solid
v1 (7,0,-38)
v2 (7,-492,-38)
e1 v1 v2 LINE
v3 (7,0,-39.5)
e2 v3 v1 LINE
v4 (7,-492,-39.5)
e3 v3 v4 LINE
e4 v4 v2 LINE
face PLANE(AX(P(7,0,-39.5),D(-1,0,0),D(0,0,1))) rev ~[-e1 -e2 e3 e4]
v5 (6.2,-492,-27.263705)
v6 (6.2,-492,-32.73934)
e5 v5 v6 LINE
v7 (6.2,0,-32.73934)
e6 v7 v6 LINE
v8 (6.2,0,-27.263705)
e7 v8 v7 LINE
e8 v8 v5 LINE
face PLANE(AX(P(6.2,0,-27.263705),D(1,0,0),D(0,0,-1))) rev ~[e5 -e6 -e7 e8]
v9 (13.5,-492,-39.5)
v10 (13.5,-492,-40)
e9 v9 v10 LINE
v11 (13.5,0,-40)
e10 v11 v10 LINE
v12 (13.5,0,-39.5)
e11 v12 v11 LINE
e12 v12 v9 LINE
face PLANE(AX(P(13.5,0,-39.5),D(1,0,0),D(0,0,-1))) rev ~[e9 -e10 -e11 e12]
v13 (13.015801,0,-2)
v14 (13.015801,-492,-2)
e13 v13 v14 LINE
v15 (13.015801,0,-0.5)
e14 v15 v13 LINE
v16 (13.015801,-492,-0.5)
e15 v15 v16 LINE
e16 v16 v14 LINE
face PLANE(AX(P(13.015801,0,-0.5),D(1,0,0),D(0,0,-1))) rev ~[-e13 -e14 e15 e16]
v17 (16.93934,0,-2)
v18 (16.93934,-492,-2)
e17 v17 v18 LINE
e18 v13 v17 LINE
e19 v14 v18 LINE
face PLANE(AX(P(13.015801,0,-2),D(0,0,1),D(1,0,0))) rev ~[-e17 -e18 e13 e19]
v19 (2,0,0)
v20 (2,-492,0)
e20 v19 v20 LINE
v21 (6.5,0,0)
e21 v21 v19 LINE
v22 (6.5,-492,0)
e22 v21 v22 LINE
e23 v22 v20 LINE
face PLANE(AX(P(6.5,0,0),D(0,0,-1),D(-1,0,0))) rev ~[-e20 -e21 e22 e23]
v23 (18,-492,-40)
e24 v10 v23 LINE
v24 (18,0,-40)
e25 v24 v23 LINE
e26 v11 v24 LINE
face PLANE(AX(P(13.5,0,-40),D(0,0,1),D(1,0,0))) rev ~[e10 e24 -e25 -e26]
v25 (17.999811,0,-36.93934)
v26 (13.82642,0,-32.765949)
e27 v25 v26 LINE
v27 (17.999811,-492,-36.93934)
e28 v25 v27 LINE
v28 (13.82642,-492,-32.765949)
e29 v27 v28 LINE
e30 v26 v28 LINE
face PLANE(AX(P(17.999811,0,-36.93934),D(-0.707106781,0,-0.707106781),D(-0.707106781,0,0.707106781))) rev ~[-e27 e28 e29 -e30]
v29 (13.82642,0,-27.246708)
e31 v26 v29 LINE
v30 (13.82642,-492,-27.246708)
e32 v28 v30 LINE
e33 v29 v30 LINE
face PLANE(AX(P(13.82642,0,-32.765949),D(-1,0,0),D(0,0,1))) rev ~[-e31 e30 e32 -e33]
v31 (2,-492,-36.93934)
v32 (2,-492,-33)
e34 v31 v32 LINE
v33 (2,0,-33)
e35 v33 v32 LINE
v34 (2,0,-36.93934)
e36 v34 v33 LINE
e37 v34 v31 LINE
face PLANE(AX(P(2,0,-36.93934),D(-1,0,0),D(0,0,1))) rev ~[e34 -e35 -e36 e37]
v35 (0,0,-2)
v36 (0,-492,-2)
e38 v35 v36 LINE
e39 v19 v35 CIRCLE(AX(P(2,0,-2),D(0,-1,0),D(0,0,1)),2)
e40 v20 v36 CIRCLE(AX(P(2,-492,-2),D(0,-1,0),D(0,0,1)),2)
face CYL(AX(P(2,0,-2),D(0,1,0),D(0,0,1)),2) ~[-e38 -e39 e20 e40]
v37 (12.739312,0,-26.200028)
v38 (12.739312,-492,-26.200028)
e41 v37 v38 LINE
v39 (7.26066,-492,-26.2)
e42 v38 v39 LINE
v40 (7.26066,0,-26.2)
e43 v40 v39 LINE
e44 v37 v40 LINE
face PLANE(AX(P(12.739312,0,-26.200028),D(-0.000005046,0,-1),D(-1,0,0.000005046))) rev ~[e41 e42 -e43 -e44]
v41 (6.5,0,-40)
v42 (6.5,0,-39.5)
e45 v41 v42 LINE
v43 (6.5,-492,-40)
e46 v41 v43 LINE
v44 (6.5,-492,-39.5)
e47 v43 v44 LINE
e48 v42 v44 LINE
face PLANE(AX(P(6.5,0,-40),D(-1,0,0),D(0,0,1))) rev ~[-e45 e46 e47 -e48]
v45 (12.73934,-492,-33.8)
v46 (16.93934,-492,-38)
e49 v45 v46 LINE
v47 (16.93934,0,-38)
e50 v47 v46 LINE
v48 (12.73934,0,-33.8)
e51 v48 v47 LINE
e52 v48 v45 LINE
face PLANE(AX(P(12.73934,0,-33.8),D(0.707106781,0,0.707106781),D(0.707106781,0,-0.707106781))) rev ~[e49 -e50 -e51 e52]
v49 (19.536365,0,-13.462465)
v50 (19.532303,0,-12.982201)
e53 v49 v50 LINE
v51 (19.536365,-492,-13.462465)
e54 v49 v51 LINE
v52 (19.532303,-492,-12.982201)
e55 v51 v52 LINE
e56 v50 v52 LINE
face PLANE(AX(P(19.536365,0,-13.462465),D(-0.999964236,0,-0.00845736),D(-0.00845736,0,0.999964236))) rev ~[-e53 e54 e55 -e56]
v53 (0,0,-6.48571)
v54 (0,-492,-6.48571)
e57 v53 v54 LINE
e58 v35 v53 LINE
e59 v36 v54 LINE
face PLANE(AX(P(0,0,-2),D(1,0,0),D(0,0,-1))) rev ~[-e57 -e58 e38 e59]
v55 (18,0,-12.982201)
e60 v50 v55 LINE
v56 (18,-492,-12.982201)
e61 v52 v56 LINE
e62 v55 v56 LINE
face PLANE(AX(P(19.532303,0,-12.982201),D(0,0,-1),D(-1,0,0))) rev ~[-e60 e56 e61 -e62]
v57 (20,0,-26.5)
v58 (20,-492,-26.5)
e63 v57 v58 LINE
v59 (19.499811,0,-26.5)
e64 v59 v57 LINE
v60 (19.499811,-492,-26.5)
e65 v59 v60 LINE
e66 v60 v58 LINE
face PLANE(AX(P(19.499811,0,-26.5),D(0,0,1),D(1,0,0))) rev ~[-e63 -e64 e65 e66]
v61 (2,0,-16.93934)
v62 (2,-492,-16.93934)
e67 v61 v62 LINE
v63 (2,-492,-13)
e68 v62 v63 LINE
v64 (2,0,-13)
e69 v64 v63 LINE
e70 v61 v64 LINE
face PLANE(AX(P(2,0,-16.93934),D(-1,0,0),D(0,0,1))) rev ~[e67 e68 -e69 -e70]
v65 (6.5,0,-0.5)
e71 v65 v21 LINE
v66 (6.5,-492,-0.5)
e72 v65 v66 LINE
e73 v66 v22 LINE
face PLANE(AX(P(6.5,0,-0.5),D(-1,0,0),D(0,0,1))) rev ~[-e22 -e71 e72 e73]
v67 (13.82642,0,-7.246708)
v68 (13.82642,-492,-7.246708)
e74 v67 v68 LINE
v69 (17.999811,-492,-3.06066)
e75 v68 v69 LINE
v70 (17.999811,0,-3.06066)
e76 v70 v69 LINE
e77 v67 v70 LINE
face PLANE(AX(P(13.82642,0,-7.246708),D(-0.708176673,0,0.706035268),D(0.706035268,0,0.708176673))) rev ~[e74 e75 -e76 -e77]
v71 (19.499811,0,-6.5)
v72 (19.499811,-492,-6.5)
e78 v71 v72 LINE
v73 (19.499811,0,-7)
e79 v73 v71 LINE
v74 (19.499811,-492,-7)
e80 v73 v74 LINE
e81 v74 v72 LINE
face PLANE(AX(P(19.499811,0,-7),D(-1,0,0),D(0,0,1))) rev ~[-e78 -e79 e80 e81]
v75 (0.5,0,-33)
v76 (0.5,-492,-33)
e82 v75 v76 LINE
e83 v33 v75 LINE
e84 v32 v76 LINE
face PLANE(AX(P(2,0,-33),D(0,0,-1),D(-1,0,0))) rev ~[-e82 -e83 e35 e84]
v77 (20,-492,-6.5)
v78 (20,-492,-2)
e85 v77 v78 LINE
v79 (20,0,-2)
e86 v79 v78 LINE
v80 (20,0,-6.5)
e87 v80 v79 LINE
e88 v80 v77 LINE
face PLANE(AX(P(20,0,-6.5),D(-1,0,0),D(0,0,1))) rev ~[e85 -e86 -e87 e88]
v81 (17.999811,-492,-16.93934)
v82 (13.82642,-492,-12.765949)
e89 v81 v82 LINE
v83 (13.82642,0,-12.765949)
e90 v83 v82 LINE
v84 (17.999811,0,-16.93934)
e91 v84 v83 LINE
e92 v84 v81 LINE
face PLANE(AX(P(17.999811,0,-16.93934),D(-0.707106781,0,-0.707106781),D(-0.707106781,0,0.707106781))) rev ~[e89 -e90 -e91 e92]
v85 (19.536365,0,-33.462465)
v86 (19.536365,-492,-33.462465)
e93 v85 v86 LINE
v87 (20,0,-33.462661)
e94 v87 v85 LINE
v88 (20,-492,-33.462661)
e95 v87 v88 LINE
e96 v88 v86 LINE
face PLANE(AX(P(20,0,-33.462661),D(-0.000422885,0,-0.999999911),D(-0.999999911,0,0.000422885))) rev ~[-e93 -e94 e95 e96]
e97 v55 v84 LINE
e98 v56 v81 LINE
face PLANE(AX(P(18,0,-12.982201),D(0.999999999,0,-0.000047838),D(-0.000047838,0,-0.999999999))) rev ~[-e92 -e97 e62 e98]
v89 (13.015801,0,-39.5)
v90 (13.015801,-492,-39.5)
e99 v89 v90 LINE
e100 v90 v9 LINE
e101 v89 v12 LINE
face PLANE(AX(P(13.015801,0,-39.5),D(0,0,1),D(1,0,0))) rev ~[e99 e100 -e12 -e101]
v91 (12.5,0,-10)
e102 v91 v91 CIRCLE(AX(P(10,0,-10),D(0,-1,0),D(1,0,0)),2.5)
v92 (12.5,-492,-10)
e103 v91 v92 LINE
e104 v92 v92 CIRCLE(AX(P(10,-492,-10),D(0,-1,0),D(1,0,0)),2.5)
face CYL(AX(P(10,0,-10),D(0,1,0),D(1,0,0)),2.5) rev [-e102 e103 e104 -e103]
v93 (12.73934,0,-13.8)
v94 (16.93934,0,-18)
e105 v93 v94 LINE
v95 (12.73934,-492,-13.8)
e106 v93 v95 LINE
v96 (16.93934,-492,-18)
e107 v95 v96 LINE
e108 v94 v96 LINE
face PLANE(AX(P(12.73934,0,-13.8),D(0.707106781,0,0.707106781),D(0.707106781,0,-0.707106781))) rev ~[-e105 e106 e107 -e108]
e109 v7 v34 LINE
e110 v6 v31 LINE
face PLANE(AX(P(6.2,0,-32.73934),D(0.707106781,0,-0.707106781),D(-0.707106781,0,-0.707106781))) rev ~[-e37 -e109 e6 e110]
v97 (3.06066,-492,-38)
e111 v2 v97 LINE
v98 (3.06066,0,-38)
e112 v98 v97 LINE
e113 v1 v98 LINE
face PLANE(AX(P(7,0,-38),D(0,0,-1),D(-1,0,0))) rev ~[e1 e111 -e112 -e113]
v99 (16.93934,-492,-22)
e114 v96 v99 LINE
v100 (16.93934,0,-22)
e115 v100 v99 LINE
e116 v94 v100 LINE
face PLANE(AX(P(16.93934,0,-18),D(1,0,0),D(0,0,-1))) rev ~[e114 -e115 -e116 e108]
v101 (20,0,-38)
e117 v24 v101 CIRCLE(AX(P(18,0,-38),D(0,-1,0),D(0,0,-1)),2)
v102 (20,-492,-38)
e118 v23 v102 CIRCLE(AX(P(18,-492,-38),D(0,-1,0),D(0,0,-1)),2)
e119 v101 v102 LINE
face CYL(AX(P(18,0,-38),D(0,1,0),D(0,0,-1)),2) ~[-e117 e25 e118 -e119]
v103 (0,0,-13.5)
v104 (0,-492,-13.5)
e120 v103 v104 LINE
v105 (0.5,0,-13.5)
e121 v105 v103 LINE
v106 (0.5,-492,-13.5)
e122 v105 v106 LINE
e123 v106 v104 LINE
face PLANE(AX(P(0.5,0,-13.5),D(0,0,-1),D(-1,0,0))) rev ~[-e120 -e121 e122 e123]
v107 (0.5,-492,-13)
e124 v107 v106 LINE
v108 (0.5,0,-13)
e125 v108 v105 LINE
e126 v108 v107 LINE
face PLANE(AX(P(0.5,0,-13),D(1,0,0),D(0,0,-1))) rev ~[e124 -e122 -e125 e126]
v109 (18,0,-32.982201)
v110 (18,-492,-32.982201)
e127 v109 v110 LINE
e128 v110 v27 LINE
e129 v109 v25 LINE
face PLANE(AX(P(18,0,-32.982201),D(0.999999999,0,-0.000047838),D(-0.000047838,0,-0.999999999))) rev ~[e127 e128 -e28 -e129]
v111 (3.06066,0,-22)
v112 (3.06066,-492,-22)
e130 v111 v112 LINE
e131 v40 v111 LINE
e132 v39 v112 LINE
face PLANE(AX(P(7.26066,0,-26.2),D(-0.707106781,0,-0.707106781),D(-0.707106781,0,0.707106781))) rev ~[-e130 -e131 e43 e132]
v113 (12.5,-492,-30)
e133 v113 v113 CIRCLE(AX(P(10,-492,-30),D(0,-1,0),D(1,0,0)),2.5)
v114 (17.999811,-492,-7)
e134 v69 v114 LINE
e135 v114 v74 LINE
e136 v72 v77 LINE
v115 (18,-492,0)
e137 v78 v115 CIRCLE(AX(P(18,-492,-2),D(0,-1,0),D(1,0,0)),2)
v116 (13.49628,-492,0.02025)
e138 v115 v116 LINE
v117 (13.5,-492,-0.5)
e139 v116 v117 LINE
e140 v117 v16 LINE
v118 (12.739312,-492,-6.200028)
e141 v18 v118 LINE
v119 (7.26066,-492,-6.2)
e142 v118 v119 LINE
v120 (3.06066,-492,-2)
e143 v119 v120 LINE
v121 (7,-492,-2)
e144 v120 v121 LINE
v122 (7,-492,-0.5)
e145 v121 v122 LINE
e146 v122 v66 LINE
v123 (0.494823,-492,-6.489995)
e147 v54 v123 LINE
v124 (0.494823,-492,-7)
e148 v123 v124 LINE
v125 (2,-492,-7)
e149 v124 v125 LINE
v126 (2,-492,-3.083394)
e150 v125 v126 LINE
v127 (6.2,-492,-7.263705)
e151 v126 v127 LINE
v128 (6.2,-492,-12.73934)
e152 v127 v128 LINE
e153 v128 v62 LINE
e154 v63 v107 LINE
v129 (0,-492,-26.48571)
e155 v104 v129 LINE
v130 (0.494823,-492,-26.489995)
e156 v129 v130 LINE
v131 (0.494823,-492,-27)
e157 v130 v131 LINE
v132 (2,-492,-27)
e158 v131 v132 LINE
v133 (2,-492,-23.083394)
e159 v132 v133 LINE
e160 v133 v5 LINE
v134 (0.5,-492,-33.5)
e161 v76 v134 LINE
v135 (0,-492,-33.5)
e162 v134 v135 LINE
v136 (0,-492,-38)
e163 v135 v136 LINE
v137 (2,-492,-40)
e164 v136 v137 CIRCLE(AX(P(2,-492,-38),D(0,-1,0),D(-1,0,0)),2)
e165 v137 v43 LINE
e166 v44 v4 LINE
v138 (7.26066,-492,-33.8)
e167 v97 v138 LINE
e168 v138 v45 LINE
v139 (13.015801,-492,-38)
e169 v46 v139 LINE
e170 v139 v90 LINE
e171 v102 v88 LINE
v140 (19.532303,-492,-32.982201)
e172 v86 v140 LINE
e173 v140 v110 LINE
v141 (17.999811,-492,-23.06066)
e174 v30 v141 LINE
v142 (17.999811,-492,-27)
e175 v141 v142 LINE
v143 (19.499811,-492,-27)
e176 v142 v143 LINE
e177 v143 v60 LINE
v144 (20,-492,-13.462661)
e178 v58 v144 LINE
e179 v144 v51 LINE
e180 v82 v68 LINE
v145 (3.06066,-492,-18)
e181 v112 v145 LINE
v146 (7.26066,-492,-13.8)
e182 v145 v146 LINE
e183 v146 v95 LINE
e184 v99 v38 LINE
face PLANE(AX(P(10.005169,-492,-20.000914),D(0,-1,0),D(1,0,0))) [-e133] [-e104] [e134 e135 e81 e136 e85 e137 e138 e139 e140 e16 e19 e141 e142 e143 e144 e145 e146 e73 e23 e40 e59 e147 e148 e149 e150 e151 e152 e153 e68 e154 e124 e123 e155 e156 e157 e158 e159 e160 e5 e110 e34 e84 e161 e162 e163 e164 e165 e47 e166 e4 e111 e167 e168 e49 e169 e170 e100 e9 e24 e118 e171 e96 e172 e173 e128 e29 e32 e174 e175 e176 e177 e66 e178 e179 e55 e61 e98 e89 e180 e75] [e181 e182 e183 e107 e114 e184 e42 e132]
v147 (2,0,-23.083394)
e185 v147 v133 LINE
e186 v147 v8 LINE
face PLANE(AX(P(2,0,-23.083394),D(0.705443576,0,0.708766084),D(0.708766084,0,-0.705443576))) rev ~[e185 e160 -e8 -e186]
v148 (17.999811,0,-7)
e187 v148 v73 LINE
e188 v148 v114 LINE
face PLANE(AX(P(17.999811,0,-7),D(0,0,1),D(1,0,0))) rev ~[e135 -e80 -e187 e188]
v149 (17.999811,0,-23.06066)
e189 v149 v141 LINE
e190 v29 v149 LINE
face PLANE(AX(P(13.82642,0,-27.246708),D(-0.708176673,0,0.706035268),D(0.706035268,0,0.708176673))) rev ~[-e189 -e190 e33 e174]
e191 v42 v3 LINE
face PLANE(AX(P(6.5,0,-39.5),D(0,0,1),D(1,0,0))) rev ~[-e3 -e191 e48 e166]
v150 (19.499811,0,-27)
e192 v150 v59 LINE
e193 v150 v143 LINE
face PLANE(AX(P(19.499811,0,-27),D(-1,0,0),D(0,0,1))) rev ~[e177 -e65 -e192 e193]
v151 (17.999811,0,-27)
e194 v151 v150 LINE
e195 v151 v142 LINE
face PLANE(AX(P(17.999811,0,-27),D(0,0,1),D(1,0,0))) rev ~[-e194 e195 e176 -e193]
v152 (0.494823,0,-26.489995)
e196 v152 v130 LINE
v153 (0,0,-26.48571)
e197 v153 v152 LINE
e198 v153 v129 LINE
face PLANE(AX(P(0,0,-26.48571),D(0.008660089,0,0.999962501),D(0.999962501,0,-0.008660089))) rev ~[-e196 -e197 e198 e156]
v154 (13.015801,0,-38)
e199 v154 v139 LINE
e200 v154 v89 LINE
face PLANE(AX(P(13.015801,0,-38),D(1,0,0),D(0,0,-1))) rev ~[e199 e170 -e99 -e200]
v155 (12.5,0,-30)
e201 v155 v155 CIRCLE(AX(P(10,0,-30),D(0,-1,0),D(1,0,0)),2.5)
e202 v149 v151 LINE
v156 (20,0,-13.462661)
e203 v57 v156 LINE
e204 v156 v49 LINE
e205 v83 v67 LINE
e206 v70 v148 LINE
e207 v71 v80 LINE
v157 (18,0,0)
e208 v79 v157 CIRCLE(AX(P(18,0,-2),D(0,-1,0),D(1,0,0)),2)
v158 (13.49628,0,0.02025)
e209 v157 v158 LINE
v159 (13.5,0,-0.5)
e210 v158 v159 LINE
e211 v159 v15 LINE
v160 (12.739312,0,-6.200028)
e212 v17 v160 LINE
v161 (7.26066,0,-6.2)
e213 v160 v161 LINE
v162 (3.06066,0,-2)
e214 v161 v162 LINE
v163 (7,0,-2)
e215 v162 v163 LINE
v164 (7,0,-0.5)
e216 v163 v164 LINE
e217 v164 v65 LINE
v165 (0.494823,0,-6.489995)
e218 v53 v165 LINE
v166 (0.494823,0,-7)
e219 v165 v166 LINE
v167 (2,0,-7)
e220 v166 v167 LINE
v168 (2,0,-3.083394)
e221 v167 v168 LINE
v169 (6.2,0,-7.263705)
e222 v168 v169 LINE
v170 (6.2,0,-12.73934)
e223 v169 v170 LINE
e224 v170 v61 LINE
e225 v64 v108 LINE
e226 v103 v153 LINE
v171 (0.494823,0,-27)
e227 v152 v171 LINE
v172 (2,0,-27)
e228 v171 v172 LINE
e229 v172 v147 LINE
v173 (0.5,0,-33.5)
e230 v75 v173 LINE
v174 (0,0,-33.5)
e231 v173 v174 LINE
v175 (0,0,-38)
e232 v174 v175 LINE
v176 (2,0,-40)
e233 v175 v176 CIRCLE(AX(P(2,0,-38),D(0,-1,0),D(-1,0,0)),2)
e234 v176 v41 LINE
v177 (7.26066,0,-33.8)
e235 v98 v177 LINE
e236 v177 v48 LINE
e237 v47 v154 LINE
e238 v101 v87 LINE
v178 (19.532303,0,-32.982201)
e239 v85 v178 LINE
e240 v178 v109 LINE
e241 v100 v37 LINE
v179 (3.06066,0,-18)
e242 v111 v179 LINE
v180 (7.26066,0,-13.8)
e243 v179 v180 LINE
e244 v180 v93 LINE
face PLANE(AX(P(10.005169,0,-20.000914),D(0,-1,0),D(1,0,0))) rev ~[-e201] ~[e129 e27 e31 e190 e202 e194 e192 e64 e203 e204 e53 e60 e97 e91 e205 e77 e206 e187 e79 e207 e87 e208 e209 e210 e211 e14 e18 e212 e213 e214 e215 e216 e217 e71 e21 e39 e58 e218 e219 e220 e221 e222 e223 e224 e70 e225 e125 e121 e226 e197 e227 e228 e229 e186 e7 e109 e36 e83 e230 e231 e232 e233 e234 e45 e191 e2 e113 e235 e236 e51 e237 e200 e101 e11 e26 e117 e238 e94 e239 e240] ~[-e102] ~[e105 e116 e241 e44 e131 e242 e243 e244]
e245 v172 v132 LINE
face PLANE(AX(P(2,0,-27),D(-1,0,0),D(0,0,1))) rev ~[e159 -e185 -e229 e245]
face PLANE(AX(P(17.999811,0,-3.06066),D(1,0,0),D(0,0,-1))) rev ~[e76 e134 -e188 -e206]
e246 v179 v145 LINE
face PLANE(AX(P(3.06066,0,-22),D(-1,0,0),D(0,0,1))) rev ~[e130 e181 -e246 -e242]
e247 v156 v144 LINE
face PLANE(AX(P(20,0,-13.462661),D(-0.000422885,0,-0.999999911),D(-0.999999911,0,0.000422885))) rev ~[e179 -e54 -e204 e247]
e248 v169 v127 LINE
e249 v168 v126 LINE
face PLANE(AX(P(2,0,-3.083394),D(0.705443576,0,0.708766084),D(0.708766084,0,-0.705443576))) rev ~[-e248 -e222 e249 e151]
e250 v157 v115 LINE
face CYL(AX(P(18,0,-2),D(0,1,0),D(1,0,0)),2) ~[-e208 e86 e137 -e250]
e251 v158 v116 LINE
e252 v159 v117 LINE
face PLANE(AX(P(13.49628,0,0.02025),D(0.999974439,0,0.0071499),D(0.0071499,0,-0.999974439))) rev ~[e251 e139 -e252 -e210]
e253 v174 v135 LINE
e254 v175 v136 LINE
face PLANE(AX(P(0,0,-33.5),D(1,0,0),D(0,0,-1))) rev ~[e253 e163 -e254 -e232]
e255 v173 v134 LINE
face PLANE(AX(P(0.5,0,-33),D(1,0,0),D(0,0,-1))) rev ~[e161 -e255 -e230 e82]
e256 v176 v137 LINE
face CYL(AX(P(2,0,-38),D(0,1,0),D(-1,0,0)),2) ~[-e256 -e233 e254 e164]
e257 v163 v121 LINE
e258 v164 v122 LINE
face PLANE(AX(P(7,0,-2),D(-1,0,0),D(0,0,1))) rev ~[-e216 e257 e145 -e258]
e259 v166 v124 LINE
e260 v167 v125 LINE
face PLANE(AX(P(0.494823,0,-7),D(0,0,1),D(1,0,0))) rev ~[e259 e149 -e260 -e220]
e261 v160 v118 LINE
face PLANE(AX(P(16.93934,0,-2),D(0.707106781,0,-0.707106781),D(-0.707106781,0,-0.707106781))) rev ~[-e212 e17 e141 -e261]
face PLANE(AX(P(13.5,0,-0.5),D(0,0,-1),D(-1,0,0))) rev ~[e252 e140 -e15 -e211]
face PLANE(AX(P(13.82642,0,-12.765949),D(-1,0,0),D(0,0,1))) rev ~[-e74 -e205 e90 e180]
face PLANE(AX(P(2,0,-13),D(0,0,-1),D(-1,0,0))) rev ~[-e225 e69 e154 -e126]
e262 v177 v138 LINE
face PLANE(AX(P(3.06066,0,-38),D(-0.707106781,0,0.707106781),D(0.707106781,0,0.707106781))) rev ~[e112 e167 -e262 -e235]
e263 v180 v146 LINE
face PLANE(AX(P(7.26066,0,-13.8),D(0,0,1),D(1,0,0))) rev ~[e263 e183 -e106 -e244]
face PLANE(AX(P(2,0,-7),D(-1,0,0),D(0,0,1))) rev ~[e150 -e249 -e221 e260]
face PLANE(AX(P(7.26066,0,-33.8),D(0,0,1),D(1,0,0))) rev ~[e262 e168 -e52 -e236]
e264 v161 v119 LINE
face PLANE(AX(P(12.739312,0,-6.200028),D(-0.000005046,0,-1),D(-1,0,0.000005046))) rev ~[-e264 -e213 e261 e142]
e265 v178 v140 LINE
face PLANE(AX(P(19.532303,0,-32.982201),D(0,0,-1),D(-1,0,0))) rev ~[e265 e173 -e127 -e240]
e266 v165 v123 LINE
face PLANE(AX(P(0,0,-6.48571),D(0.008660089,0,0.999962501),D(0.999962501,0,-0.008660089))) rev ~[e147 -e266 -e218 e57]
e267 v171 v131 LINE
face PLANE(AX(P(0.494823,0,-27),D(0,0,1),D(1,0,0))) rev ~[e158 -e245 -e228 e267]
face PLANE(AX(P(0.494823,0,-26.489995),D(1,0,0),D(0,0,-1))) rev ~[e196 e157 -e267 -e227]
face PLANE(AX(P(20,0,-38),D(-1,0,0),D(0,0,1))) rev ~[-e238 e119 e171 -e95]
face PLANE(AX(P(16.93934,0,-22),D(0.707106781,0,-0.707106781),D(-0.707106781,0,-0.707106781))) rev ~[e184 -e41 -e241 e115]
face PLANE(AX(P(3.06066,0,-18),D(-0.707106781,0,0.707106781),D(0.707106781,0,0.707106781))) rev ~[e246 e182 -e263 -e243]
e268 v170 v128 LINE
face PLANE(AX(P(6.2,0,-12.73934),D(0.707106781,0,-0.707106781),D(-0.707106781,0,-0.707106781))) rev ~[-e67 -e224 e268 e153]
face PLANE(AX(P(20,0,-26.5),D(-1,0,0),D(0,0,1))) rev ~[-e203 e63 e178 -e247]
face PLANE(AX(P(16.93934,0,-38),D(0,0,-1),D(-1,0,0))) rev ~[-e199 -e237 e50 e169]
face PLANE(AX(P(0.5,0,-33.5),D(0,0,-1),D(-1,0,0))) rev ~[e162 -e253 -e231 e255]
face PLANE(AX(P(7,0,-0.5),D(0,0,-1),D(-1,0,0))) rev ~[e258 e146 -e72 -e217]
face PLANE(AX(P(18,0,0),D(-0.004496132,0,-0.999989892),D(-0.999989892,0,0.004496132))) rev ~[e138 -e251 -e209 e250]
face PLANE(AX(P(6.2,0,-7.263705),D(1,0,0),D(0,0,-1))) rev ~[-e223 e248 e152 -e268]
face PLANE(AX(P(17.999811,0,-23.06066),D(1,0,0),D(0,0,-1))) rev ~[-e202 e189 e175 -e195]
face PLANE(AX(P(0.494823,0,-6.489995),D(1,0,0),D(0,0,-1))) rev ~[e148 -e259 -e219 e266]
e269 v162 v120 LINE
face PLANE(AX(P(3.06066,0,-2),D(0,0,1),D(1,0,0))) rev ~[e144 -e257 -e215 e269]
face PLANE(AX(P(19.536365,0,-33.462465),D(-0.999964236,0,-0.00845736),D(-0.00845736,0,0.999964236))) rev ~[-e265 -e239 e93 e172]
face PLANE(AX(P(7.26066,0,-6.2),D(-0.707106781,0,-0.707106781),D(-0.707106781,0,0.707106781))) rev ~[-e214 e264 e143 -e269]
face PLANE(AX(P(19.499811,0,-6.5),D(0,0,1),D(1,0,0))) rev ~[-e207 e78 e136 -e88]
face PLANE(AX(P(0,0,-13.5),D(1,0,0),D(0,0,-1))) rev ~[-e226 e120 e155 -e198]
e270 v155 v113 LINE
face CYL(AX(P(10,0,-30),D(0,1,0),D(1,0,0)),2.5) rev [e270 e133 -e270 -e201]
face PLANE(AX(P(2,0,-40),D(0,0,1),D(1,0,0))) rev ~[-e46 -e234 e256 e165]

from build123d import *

# Parameters (mm, degrees)
F0_R     = 2.5
F2_DEPTH = 492


with BuildPart() as f2:
    # F0 (on Front) → F2 (new body)
    with BuildSketch(Plane.XZ):
        with BuildLine():
            Line((6.5, 0), (2, 0))
            ThreePointArc((2, 0), (0.5857864376, -0.5857864376), (0, -2))
            Line((0, -2), (0, -6.4857100192))
            Line((0, -6.4857100192), (0.4948230833, -6.489995392))
            Line((0.4948230833, -6.489995392), (0.4948230833, -7))
            Line((0.4948230833, -7), (2, -7))
            Line((2, -7), (2, -3.0833937817))
            Line((2, -3.0833937817), (6.2, -7.2637052917))
            Line((6.2, -7.2637052917), (6.2, -12.7393398282))
            Line((6.2, -12.7393398282), (2, -16.9393398282))
            Line((2, -16.9393398282), (2, -13))
            Line((2, -13), (0.5, -13))
            Line((0.5, -13), (0.5, -13.5))
            Line((0.5, -13.5), (0, -13.5))
            Line((0, -13.5), (0, -26.4857100192))
            Line((0, -26.4857100192), (0.4948230833, -26.489995392))
            Line((0.4948230833, -26.489995392), (0.4948230833, -27))
            Line((0.4948230833, -27), (2, -27))
            Line((2, -27), (2, -23.0833937817))
            Line((2, -23.0833937817), (6.2, -27.2637052917))
            Line((6.2, -27.2637052917), (6.2, -32.7393398282))
            Line((6.2, -32.7393398282), (2, -36.9393398282))
            Line((2, -36.9393398282), (2, -33))
            Line((2, -33), (0.5, -33))
            Line((0.5, -33), (0.5, -33.5))
            Line((0.5, -33.5), (0, -33.5))
            Line((0, -33.5), (0, -38))
            ThreePointArc((0, -38), (0.5857864376, -39.4142135624), (2, -40))
            Line((2, -40), (6.5, -40))
            Line((6.5, -40), (6.5, -39.5))
            Line((6.5, -39.5), (7, -39.5))
            Line((7, -39.5), (7, -38))
            Line((7, -38), (3.0606601718, -38))
            Line((3.0606601718, -38), (7.2606601718, -33.8))
            Line((7.2606601718, -33.8), (12.7393398282, -33.8))
            Line((12.7393398282, -33.8), (16.9393398282, -38))
            Line((16.9393398282, -38), (13.015800612, -38))
            Line((13.015800612, -38), (13.015800612, -39.5))
            Line((13.015800612, -39.5), (13.5, -39.5))
            Line((13.5, -39.5), (13.5, -40))
            Line((13.5, -40), (18, -40))
            ThreePointArc((18, -40), (19.4142135624, -39.4142135624), (20, -38))
            Line((20, -38), (20, -33.4626608249))
            Line((20, -33.4626608249), (19.5363645284, -33.4624647606))
            Line((19.5363645284, -33.4624647606), (19.532302618, -32.9822008219))
            Line((19.532302618, -32.9822008219), (18, -32.9822008219))
            Line((18, -32.9822008219), (17.9998106987, -36.9393398192))
            Line((17.9998106987, -36.9393398192), (13.8264202785, -32.765949399))
            Line((13.8264202785, -32.765949399), (13.8264202785, -27.246708479))
            Line((13.8264202785, -27.246708479), (17.9998106987, -23.0606601627))
            Line((17.9998106987, -23.0606601627), (17.9998106987, -26.9999999909))
            Line((17.9998106987, -26.9999999909), (19.4998106987, -26.9999999909))
            Line((19.4998106987, -26.9999999909), (19.4998106987, -26.4999999909))
            Line((19.4998106987, -26.4999999909), (20, -26.4999999909))
            Line((20, -26.4999999909), (20, -13.4626608249))
            Line((20, -13.4626608249), (19.5363645284, -13.4624647606))
            Line((19.5363645284, -13.4624647606), (19.532302618, -12.9822008219))
            Line((19.532302618, -12.9822008219), (18, -12.9822008219))
            Line((18, -12.9822008219), (17.9998106987, -16.9393398192))
            Line((17.9998106987, -16.9393398192), (13.8264202785, -12.765949399))
            Line((13.8264202785, -12.765949399), (13.8264202785, -7.246708479))
            Line((13.8264202785, -7.246708479), (17.9998106987, -3.0606601627))
            Line((17.9998106987, -3.0606601627), (17.9998106987, -6.9999999909))
            Line((17.9998106987, -6.9999999909), (19.4998106987, -6.9999999909))
            Line((19.4998106987, -6.9999999909), (19.4998106987, -6.4999999909))
            Line((19.4998106987, -6.4999999909), (20, -6.4999999909))
            Line((20, -6.4999999909), (20, -2))
            ThreePointArc((20, -2), (19.4142135624, -0.5857864376), (18, 0))
            Line((18, 0), (13.4962801728, 0.0202495232))
            Line((13.4962801728, 0.0202495232), (13.5, -0.5))
            Line((13.5, -0.5), (13.015800612, -0.5))
            Line((13.015800612, -0.5), (13.015800612, -2))
            Line((13.015800612, -2), (16.9393398282, -2))
            Line((16.9393398282, -2), (12.7393121854, -6.2000276428))
            Line((12.7393121854, -6.2000276428), (7.2606601718, -6.2))
            Line((7.2606601718, -6.2), (3.0606601718, -2))
            Line((3.0606601718, -2), (7, -2))
            Line((7, -2), (7, -0.5))
            Line((7, -0.5), (6.5, -0.5))
            Line((6.5, -0.5), (6.5, 0))
        make_face()
        with Locations((10, -30)):
            Circle(F0_R, mode=Mode.SUBTRACT)
        Polygon((7.2606601718, -13.8), (12.7393398282, -13.8), (16.9393398282, -18), (16.9393398282, -22), (12.7393121854, -26.2000276428), (7.2606601718, -26.2), (3.0606601718, -22), (3.0606601718, -18), align=None, mode=Mode.SUBTRACT)
        with Locations((10, -10)):
            Circle(F0_R, mode=Mode.SUBTRACT)
    extrude(amount=F2_DEPTH)


solid = f2.part
